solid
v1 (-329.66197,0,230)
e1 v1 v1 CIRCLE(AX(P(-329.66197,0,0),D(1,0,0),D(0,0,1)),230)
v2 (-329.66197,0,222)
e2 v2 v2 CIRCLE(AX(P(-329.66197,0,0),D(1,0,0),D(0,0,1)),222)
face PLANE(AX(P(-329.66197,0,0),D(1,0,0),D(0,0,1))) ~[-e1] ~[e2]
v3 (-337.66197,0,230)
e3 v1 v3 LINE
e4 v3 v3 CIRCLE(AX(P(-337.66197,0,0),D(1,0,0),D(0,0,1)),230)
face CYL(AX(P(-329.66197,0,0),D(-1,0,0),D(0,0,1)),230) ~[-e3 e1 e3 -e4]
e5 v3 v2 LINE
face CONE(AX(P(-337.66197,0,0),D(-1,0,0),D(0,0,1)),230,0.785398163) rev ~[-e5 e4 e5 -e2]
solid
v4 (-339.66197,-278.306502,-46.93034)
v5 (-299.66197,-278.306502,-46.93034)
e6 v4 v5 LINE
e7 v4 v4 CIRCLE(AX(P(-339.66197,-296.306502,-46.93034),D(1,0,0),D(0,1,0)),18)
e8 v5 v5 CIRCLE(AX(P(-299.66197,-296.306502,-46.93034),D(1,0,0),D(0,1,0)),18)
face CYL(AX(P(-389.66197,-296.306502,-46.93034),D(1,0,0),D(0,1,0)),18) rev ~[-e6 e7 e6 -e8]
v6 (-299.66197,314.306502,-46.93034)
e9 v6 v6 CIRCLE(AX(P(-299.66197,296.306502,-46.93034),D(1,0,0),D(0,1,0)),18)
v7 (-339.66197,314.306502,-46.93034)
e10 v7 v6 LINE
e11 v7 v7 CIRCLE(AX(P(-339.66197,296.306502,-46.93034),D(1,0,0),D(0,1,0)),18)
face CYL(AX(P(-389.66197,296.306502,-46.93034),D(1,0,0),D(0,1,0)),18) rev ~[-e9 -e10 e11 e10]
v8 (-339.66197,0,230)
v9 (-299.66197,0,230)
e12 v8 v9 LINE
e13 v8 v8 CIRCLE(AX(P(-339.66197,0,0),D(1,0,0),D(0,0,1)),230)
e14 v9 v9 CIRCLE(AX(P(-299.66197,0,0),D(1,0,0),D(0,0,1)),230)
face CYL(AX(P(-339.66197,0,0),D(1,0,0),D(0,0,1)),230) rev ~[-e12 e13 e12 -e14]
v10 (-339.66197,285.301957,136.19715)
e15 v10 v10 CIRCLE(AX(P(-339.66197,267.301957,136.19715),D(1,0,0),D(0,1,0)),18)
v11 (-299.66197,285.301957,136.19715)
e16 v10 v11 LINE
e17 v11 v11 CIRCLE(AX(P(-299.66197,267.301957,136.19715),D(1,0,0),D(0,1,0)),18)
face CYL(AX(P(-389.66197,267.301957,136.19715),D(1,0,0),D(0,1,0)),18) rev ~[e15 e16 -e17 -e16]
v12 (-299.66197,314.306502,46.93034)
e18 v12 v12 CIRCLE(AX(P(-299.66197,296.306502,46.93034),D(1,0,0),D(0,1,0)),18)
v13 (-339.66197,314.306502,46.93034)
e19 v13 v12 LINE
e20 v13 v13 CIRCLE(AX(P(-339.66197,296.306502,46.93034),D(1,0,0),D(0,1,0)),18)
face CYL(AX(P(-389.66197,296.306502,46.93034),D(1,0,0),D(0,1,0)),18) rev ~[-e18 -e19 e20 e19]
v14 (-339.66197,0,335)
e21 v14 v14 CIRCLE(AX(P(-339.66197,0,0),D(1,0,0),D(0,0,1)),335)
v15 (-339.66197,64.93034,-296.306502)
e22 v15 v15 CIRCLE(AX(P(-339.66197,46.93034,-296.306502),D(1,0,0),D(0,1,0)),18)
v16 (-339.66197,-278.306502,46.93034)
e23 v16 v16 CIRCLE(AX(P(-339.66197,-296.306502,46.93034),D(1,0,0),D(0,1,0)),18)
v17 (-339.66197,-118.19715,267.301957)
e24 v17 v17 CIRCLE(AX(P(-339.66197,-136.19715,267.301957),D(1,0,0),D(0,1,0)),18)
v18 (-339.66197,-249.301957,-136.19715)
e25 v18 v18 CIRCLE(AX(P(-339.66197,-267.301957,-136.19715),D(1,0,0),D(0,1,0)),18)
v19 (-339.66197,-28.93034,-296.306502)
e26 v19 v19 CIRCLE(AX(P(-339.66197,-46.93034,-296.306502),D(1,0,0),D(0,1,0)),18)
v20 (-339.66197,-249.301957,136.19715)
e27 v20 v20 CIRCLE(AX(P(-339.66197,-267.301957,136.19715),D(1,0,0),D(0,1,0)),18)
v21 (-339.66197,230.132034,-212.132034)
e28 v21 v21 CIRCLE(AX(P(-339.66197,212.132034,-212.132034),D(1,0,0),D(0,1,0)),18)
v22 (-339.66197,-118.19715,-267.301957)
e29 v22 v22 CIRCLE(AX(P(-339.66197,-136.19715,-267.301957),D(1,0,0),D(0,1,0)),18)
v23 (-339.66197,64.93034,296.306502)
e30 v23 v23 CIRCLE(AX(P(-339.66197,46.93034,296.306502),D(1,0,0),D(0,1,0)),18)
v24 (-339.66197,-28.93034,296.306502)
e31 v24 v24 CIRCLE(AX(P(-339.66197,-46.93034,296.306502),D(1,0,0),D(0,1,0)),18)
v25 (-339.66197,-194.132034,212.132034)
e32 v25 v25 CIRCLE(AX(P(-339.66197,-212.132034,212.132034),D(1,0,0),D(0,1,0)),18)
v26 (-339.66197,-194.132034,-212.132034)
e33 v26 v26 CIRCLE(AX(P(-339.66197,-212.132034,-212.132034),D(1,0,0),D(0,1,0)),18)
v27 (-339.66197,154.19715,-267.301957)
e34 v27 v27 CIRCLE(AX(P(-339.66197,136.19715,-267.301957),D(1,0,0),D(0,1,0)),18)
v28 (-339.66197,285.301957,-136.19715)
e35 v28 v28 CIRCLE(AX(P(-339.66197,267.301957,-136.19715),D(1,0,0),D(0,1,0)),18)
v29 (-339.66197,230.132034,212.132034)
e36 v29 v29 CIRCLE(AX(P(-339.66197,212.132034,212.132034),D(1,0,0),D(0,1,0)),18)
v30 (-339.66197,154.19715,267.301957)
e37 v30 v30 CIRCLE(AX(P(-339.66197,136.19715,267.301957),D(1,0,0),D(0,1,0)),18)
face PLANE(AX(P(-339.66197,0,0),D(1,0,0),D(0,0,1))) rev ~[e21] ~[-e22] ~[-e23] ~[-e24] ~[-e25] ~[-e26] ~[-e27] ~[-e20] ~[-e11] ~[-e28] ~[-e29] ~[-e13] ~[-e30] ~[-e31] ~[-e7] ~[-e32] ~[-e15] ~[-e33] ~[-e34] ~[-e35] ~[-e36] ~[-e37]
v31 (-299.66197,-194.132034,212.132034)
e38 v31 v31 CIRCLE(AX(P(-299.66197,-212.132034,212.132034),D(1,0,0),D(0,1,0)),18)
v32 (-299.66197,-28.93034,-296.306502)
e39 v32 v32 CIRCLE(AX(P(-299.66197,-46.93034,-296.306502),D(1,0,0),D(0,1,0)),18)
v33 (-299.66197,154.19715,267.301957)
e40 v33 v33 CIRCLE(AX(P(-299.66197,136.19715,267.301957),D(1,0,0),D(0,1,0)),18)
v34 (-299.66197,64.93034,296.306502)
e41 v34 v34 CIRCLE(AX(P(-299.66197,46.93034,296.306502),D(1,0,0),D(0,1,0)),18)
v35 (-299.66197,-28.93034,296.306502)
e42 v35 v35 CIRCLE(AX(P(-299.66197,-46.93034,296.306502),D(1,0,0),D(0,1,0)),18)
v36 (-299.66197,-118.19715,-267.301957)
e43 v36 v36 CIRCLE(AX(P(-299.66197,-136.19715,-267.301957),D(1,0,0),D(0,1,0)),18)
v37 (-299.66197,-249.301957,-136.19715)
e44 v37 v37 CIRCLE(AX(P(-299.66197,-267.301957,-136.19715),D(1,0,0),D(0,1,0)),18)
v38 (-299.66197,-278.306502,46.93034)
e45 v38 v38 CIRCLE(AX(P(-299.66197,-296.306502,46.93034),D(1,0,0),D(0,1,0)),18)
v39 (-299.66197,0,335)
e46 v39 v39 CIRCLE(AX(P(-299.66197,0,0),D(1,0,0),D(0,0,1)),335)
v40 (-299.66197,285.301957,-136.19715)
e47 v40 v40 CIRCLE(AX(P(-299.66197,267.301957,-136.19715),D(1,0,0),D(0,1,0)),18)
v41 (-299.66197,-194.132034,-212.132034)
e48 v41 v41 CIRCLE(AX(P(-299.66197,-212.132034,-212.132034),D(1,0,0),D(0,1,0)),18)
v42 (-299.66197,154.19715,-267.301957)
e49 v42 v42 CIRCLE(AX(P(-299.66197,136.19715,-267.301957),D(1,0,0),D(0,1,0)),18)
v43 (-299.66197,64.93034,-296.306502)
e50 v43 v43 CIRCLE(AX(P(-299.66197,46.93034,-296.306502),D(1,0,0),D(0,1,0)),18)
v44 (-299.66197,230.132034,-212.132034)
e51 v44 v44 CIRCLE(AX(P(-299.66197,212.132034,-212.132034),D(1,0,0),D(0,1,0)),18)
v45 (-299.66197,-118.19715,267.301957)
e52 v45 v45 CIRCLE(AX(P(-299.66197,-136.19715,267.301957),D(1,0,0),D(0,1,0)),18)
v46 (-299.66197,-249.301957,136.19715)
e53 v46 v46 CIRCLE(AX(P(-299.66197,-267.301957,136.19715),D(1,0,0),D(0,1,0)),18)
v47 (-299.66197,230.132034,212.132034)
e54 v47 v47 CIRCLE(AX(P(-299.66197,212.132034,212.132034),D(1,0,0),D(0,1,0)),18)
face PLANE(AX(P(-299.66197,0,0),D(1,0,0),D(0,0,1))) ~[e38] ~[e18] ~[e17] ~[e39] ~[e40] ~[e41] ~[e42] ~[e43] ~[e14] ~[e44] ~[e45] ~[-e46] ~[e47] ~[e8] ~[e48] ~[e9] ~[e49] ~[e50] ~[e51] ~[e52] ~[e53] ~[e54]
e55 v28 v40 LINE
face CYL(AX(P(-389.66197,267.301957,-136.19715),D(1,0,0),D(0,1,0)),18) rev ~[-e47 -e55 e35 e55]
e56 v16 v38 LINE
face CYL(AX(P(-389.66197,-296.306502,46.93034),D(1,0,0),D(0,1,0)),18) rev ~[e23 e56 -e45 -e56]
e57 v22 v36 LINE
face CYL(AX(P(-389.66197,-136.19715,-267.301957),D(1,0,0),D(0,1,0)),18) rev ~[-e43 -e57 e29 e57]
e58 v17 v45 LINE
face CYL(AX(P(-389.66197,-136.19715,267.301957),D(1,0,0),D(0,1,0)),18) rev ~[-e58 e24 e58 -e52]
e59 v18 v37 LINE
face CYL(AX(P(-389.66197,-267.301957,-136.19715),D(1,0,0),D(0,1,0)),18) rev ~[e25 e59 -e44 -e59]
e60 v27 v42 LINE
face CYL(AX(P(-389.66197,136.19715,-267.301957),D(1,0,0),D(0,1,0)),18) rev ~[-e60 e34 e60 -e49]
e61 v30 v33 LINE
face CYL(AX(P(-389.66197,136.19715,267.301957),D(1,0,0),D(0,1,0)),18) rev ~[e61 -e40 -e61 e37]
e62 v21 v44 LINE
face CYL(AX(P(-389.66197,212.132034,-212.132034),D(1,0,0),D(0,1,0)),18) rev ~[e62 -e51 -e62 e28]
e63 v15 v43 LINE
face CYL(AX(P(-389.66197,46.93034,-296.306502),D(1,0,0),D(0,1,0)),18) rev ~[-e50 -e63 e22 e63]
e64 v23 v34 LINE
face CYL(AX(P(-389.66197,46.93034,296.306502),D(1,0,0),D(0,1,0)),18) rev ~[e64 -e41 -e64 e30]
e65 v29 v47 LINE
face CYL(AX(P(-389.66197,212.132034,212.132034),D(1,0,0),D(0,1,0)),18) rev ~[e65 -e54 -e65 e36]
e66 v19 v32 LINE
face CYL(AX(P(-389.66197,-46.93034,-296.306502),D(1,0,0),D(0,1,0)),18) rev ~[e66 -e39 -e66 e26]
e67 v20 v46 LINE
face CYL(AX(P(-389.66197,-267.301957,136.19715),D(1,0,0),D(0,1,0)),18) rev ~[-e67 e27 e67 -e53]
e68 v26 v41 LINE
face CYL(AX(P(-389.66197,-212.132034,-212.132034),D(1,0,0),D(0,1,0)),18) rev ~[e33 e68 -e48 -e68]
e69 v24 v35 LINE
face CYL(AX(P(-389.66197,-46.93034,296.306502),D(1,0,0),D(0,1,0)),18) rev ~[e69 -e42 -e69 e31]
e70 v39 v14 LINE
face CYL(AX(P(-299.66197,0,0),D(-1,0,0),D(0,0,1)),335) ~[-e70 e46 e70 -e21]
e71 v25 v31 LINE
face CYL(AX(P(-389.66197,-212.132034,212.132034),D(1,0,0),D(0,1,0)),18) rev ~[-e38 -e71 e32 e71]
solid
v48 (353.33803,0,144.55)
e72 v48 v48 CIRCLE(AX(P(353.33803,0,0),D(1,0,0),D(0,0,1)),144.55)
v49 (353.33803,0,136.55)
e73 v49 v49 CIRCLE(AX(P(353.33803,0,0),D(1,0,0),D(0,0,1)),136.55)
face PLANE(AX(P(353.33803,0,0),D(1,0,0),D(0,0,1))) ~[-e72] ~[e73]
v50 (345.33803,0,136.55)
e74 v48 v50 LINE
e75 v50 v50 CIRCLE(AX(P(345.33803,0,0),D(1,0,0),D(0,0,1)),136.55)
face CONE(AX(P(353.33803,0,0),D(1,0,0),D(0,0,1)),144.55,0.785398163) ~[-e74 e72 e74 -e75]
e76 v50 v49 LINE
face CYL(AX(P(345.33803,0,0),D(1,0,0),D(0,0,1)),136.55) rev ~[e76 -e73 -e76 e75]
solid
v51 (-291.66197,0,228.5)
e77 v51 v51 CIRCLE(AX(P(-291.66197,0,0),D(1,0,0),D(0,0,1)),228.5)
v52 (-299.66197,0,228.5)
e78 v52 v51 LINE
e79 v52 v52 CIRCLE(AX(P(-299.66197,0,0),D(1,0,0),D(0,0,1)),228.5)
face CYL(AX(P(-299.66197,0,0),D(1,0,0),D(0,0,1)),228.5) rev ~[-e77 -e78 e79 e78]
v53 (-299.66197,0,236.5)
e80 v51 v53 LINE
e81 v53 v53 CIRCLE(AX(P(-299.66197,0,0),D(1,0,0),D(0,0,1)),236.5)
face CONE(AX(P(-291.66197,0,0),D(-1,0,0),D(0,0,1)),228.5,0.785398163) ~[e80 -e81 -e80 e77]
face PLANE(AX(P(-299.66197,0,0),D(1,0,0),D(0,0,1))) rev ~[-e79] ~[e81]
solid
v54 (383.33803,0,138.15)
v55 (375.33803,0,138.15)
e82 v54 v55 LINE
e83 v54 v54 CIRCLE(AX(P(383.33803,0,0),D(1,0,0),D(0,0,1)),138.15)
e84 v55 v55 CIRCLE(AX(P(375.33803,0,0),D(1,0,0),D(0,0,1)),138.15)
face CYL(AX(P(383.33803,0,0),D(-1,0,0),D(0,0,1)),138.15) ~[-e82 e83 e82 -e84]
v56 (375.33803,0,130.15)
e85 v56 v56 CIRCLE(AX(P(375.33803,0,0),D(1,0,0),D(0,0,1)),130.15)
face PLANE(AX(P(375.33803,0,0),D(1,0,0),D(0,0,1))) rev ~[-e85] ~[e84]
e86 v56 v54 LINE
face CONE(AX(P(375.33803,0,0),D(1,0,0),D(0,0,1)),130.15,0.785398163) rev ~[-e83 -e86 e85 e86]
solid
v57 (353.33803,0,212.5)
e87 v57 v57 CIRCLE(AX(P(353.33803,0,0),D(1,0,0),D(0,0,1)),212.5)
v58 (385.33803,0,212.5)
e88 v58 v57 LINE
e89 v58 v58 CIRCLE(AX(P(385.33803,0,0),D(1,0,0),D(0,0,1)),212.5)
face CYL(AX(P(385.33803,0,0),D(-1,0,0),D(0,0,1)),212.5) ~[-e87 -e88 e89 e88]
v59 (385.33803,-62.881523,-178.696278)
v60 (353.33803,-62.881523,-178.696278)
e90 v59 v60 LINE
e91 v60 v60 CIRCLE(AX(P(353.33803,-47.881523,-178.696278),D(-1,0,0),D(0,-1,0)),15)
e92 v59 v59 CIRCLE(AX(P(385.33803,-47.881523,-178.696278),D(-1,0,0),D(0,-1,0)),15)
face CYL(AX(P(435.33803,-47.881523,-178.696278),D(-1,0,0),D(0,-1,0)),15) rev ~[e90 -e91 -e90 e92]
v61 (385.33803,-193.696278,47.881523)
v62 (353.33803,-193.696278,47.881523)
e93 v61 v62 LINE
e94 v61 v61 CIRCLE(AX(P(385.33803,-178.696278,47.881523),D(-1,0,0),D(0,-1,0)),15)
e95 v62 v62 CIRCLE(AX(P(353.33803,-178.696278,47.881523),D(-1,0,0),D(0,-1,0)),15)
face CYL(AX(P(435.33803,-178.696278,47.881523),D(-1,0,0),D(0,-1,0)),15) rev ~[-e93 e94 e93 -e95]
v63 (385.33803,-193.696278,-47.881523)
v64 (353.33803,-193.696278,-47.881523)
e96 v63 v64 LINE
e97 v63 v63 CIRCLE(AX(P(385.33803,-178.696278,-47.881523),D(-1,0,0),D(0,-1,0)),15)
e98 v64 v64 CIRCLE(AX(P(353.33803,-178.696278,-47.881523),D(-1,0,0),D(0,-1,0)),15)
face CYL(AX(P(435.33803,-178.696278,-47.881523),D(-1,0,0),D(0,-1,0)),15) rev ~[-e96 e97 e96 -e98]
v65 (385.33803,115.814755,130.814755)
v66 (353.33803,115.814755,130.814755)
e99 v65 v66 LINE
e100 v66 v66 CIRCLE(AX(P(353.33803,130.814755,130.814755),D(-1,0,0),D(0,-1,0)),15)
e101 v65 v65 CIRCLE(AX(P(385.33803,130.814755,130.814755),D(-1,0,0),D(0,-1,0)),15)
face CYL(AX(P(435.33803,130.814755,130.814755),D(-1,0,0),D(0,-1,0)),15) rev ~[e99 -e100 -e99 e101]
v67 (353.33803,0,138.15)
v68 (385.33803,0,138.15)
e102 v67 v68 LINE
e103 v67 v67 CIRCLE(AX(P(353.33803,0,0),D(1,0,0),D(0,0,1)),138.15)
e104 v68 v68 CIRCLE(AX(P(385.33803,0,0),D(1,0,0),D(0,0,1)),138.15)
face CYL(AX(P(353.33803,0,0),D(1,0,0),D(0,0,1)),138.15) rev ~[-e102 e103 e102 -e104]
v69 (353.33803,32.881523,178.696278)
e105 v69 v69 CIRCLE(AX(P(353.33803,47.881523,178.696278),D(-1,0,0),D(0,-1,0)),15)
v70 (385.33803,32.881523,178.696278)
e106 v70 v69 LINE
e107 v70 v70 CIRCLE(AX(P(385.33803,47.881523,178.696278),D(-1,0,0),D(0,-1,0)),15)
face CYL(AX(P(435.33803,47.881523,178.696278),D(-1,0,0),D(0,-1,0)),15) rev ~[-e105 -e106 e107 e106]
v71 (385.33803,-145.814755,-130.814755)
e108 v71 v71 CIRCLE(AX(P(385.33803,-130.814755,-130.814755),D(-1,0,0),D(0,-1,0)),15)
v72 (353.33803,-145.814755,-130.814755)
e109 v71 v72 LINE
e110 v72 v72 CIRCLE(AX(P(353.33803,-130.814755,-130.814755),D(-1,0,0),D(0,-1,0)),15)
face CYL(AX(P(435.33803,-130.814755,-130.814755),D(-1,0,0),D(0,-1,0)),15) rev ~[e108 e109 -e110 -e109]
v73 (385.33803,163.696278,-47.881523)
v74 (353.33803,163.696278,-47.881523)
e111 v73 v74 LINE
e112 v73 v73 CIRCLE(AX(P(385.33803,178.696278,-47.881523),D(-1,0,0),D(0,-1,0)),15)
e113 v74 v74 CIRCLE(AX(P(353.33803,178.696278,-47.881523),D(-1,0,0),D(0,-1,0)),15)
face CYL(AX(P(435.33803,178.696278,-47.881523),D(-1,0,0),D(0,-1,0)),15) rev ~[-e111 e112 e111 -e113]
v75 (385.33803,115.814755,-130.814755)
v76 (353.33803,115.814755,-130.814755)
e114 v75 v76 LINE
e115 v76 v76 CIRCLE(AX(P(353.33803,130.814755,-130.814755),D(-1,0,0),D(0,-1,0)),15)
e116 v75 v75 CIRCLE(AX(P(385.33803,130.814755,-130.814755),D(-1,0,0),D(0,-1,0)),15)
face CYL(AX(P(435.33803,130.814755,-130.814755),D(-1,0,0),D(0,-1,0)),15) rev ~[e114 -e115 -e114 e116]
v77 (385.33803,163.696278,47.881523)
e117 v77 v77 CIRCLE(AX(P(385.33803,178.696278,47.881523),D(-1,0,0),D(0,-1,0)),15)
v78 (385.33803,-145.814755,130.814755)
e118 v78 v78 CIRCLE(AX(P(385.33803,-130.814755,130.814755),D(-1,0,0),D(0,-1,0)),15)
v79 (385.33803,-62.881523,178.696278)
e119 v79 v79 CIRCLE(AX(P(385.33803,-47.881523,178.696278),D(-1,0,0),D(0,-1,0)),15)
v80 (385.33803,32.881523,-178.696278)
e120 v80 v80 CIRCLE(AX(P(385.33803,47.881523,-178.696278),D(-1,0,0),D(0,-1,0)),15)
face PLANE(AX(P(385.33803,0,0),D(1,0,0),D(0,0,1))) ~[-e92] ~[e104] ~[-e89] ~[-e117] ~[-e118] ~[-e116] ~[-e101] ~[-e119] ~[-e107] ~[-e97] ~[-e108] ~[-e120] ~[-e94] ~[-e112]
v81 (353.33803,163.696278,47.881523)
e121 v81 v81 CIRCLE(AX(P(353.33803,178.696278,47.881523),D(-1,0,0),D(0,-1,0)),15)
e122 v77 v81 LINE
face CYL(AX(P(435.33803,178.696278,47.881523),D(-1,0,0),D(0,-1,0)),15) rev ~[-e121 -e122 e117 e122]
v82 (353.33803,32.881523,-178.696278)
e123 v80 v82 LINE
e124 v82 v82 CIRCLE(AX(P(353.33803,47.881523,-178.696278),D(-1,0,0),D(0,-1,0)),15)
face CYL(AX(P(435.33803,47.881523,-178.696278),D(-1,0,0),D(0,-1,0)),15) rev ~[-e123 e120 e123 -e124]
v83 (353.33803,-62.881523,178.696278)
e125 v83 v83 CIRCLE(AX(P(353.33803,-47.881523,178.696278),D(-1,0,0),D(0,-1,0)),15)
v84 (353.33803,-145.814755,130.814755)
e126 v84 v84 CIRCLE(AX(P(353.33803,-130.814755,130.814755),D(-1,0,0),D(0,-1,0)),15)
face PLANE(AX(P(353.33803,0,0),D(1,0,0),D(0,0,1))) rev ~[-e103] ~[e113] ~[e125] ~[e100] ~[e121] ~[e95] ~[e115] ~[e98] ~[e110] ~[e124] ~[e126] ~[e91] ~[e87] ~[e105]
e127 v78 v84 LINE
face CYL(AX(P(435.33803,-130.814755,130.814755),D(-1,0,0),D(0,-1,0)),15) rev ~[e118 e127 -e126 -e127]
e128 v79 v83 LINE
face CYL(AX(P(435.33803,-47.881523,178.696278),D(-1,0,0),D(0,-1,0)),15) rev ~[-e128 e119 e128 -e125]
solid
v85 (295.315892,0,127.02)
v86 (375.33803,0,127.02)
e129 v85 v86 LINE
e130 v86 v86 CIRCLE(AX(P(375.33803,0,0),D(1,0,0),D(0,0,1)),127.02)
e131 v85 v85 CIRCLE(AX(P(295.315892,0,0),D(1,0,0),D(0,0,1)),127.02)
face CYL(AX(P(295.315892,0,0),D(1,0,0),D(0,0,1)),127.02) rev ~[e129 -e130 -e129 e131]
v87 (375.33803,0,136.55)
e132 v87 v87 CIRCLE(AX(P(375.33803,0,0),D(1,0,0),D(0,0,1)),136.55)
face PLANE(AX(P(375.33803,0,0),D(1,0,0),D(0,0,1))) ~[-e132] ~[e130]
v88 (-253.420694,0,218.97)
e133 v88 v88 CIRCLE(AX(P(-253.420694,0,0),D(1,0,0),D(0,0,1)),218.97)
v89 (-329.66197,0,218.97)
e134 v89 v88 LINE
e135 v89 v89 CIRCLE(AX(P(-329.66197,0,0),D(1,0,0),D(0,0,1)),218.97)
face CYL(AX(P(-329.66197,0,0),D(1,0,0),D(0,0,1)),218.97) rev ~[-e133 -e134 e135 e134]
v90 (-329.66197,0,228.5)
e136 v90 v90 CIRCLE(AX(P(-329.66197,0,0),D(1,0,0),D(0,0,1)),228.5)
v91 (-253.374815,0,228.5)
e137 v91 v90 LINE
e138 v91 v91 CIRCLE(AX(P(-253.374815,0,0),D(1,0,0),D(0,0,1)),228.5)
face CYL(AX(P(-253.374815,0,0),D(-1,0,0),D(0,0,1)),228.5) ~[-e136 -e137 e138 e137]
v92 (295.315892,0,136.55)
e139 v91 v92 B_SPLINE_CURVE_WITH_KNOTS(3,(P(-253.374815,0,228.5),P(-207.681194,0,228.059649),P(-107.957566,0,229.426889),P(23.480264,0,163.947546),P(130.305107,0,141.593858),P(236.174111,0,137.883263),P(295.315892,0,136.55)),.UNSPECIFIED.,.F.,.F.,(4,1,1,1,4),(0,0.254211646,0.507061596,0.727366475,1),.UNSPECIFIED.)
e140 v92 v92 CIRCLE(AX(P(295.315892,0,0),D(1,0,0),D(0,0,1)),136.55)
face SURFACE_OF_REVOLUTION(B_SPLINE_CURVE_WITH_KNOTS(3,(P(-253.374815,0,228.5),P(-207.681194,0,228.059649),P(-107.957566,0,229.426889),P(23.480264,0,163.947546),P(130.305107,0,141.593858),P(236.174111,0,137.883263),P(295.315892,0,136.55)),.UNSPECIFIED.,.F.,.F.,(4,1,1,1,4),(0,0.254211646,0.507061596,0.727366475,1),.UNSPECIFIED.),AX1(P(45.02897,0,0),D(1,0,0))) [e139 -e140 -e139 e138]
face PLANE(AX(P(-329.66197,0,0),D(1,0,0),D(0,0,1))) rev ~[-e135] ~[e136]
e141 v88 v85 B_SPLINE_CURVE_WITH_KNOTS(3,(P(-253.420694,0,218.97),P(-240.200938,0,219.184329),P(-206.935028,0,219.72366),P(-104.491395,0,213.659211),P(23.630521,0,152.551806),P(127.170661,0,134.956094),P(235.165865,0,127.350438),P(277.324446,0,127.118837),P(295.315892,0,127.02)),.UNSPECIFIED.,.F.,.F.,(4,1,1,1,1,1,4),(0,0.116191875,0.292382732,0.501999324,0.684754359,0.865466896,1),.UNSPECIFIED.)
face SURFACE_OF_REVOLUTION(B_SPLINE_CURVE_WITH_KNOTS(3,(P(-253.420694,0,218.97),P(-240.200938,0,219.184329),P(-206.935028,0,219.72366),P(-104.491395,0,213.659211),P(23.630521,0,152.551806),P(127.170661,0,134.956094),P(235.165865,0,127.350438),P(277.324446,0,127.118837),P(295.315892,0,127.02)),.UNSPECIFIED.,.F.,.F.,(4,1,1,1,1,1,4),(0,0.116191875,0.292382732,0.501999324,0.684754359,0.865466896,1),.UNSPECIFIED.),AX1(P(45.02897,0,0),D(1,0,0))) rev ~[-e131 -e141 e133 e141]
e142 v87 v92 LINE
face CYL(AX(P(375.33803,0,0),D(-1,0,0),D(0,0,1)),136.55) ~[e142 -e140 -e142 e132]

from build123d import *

# Parameters (mm, degrees)
F6_D     = 36
F6_DEPTH = 50
F6_TIP   = 10.8154911425
F8_D     = 30
F8_DEPTH = 50
F8_TIP   = 9.0129092854


with BuildPart() as f1:
    # F0 (on Front) → F1 (revolve)
    with BuildSketch(Plane.XZ):
        Polygon((-337.6619696266, 230), (-329.6619696266, 230), (-299.6619696266, 230), (-299.6619696266, 236.5), (-299.6619696266, 335), (-339.6619696266, 335), (-339.6619696266, 230), align=None)
    revolve(axis=Axis((45.028969672, 0, 0), (1, 0, 0)))

    # F6
    with Locations(Plane(origin=(-339.6619696266, 0, 0), x_dir=(0, -1, 0), z_dir=(-1, 0, 0))):
        with Locations((-46.9303395121, 296.3065021785), (46.9303395121, 296.3065021785), (136.1971499219, 267.3019572565), (212.132034356, 212.132034356), (267.3019572565, 136.1971499219), (296.3065021785, 46.9303395121), (296.3065021785, -46.9303395121), (267.3019572565, -136.1971499219), (212.132034356, -212.132034356), (136.1971499219, -267.3019572565), (46.9303395121, -296.3065021785), (-136.1971499219, -267.3019572565), (-212.132034356, -212.132034356), (-267.3019572565, -136.1971499219), (-296.3065021785, -46.9303395121), (-46.9303395121, -296.3065021785), (-296.3065021785, 46.9303395121), (-267.3019572565, 136.1971499219), (-212.132034356, 212.132034356), (-136.1971499219, 267.3019572565)):
            Hole(F6_D / 2, depth=F6_DEPTH)
            with Locations((0, 0, -(F6_DEPTH + F6_TIP / 2))):  # 118° drill point
                Cone(0, F6_D / 2, F6_TIP, mode=Mode.SUBTRACT)


with BuildPart() as f2:
    # F0 (on Front) → F2 (revolve)
    with BuildSketch(Plane.XZ):
        with BuildLine():
            add(Edge.make_bspline(
                [(-253.3748149872, 228.5), (-207.6811939478, 228.0596494675), (-107.9575658009, 229.4268890138), (23.480264241, 163.9475460602), (130.3051072184, 141.5938575123), (236.1741111698, 137.8832627127), (295.3158915043, 136.55)],
                knots=[0, 0, 0, 0, 0.2542116463, 0.5070615956, 0.7273664746, 1, 1, 1, 1], degree=3))
            Line((-253.3748149872, 228.5), (-253.4206936962, 218.97))
            add(Edge.make_bspline(
                [(-253.4206936962, 218.97), (-240.2009376391, 219.1843285332), (-206.9350282777, 219.7236602371), (-104.4913953456, 213.6592114843), (23.6305209991, 152.5518060653), (127.1706610346, 134.9560944534), (235.1658650843, 127.3504382511), (277.3244460023, 127.1188372265), (295.3158915043, 127.02)],
                knots=[0, 0, 0, 0, 0.1161918754, 0.2923827322, 0.5019993241, 0.6847543592, 0.8654668957, 1, 1, 1, 1], degree=3))
            Line((295.3158915043, 127.02), (295.3158915043, 136.55))
        make_face()
        Polygon((-299.6619696266, 228.5), (-329.6619696266, 228.5), (-329.6619696266, 222), (-329.6619696266, 218.97), (-253.4206936962, 218.97), (-253.3748149872, 228.5), (-291.6619696266, 228.5), align=None)
        Polygon((345.3380303734, 136.55), (295.3158915043, 136.55), (295.3158915043, 127.02), (375.3380303734, 127.02), (375.3380303734, 130.15), (375.3380303734, 136.55), (353.3380303734, 136.55), align=None)
    revolve(axis=Axis((45.028969672, 0, 0), (1, 0, 0)))


with BuildPart() as f3:
    # F0 (on Front) → F3 (revolve)
    with BuildSketch(Plane.XZ):
        Polygon((353.3380303734, 212.5), (353.3380303734, 144.55), (353.3380303734, 138.15), (375.3380303734, 138.15), (383.3380303734, 138.15), (385.3380303734, 138.15), (385.3380303734, 212.5), align=None)
    revolve(axis=Axis((45.028969672, 0, 0), (1, 0, 0)))

    # F8
    with Locations(Plane.YZ.offset(385.3380303734)):
        with Locations((178.6962778635, 47.881523344), (178.6962778635, -47.881523344), (130.8147545195, -130.8147545195), (47.881523344, -178.6962778635), (-47.881523344, -178.6962778635), (-130.8147545195, -130.8147545195), (-178.6962778635, -47.881523344), (-178.6962778635, 47.881523344), (-130.8147545195, 130.8147545195), (-47.881523344, 178.6962778635), (47.881523344, 178.6962778635), (130.8147545195, 130.8147545195)):
            Hole(F8_D / 2, depth=F8_DEPTH)
            with Locations((0, 0, -(F8_DEPTH + F8_TIP / 2))):  # 118° drill point
                Cone(0, F8_D / 2, F8_TIP, mode=Mode.SUBTRACT)


with BuildPart() as f4:
    # F0 (on Front) → F4 (revolve)
    with BuildSketch(Plane.XZ):
        Polygon((-329.6619696266, 222), (-329.6619696266, 228.5), (-329.6619696266, 230), (-337.6619696266, 230), align=None)
    revolve(axis=Axis((45.028969672, 0, 0), (1, 0, 0)))


with BuildPart() as f4b:
    # F0 (on Front) → F4, piece 2 (revolve)
    with BuildSketch(Plane.XZ):
        Polygon((-299.6619696266, 230), (-299.6619696266, 228.5), (-291.6619696266, 228.5), (-299.6619696266, 236.5), align=None)
    revolve(axis=Axis((45.028969672, 0, 0), (1, 0, 0)))


with BuildPart() as f4c:
    # F0 (on Front) → F4, piece 3 (revolve)
    with BuildSketch(Plane.XZ):
        Polygon((353.3380303734, 144.55), (345.3380303734, 136.55), (353.3380303734, 136.55), (353.3380303734, 138.15), align=None)
    revolve(axis=Axis((45.028969672, 0, 0), (1, 0, 0)))


with BuildPart() as f4d:
    # F0 (on Front) → F4, piece 4 (revolve)
    with BuildSketch(Plane.XZ):
        Polygon((375.3380303734, 136.55), (375.3380303734, 130.15), (383.3380303734, 138.15), (375.3380303734, 138.15), align=None)
    revolve(axis=Axis((45.028969672, 0, 0), (1, 0, 0)))


solid = Compound([f1.part, f2.part, f3.part, f4.part, f4b.part, f4c.part, f4d.part])
